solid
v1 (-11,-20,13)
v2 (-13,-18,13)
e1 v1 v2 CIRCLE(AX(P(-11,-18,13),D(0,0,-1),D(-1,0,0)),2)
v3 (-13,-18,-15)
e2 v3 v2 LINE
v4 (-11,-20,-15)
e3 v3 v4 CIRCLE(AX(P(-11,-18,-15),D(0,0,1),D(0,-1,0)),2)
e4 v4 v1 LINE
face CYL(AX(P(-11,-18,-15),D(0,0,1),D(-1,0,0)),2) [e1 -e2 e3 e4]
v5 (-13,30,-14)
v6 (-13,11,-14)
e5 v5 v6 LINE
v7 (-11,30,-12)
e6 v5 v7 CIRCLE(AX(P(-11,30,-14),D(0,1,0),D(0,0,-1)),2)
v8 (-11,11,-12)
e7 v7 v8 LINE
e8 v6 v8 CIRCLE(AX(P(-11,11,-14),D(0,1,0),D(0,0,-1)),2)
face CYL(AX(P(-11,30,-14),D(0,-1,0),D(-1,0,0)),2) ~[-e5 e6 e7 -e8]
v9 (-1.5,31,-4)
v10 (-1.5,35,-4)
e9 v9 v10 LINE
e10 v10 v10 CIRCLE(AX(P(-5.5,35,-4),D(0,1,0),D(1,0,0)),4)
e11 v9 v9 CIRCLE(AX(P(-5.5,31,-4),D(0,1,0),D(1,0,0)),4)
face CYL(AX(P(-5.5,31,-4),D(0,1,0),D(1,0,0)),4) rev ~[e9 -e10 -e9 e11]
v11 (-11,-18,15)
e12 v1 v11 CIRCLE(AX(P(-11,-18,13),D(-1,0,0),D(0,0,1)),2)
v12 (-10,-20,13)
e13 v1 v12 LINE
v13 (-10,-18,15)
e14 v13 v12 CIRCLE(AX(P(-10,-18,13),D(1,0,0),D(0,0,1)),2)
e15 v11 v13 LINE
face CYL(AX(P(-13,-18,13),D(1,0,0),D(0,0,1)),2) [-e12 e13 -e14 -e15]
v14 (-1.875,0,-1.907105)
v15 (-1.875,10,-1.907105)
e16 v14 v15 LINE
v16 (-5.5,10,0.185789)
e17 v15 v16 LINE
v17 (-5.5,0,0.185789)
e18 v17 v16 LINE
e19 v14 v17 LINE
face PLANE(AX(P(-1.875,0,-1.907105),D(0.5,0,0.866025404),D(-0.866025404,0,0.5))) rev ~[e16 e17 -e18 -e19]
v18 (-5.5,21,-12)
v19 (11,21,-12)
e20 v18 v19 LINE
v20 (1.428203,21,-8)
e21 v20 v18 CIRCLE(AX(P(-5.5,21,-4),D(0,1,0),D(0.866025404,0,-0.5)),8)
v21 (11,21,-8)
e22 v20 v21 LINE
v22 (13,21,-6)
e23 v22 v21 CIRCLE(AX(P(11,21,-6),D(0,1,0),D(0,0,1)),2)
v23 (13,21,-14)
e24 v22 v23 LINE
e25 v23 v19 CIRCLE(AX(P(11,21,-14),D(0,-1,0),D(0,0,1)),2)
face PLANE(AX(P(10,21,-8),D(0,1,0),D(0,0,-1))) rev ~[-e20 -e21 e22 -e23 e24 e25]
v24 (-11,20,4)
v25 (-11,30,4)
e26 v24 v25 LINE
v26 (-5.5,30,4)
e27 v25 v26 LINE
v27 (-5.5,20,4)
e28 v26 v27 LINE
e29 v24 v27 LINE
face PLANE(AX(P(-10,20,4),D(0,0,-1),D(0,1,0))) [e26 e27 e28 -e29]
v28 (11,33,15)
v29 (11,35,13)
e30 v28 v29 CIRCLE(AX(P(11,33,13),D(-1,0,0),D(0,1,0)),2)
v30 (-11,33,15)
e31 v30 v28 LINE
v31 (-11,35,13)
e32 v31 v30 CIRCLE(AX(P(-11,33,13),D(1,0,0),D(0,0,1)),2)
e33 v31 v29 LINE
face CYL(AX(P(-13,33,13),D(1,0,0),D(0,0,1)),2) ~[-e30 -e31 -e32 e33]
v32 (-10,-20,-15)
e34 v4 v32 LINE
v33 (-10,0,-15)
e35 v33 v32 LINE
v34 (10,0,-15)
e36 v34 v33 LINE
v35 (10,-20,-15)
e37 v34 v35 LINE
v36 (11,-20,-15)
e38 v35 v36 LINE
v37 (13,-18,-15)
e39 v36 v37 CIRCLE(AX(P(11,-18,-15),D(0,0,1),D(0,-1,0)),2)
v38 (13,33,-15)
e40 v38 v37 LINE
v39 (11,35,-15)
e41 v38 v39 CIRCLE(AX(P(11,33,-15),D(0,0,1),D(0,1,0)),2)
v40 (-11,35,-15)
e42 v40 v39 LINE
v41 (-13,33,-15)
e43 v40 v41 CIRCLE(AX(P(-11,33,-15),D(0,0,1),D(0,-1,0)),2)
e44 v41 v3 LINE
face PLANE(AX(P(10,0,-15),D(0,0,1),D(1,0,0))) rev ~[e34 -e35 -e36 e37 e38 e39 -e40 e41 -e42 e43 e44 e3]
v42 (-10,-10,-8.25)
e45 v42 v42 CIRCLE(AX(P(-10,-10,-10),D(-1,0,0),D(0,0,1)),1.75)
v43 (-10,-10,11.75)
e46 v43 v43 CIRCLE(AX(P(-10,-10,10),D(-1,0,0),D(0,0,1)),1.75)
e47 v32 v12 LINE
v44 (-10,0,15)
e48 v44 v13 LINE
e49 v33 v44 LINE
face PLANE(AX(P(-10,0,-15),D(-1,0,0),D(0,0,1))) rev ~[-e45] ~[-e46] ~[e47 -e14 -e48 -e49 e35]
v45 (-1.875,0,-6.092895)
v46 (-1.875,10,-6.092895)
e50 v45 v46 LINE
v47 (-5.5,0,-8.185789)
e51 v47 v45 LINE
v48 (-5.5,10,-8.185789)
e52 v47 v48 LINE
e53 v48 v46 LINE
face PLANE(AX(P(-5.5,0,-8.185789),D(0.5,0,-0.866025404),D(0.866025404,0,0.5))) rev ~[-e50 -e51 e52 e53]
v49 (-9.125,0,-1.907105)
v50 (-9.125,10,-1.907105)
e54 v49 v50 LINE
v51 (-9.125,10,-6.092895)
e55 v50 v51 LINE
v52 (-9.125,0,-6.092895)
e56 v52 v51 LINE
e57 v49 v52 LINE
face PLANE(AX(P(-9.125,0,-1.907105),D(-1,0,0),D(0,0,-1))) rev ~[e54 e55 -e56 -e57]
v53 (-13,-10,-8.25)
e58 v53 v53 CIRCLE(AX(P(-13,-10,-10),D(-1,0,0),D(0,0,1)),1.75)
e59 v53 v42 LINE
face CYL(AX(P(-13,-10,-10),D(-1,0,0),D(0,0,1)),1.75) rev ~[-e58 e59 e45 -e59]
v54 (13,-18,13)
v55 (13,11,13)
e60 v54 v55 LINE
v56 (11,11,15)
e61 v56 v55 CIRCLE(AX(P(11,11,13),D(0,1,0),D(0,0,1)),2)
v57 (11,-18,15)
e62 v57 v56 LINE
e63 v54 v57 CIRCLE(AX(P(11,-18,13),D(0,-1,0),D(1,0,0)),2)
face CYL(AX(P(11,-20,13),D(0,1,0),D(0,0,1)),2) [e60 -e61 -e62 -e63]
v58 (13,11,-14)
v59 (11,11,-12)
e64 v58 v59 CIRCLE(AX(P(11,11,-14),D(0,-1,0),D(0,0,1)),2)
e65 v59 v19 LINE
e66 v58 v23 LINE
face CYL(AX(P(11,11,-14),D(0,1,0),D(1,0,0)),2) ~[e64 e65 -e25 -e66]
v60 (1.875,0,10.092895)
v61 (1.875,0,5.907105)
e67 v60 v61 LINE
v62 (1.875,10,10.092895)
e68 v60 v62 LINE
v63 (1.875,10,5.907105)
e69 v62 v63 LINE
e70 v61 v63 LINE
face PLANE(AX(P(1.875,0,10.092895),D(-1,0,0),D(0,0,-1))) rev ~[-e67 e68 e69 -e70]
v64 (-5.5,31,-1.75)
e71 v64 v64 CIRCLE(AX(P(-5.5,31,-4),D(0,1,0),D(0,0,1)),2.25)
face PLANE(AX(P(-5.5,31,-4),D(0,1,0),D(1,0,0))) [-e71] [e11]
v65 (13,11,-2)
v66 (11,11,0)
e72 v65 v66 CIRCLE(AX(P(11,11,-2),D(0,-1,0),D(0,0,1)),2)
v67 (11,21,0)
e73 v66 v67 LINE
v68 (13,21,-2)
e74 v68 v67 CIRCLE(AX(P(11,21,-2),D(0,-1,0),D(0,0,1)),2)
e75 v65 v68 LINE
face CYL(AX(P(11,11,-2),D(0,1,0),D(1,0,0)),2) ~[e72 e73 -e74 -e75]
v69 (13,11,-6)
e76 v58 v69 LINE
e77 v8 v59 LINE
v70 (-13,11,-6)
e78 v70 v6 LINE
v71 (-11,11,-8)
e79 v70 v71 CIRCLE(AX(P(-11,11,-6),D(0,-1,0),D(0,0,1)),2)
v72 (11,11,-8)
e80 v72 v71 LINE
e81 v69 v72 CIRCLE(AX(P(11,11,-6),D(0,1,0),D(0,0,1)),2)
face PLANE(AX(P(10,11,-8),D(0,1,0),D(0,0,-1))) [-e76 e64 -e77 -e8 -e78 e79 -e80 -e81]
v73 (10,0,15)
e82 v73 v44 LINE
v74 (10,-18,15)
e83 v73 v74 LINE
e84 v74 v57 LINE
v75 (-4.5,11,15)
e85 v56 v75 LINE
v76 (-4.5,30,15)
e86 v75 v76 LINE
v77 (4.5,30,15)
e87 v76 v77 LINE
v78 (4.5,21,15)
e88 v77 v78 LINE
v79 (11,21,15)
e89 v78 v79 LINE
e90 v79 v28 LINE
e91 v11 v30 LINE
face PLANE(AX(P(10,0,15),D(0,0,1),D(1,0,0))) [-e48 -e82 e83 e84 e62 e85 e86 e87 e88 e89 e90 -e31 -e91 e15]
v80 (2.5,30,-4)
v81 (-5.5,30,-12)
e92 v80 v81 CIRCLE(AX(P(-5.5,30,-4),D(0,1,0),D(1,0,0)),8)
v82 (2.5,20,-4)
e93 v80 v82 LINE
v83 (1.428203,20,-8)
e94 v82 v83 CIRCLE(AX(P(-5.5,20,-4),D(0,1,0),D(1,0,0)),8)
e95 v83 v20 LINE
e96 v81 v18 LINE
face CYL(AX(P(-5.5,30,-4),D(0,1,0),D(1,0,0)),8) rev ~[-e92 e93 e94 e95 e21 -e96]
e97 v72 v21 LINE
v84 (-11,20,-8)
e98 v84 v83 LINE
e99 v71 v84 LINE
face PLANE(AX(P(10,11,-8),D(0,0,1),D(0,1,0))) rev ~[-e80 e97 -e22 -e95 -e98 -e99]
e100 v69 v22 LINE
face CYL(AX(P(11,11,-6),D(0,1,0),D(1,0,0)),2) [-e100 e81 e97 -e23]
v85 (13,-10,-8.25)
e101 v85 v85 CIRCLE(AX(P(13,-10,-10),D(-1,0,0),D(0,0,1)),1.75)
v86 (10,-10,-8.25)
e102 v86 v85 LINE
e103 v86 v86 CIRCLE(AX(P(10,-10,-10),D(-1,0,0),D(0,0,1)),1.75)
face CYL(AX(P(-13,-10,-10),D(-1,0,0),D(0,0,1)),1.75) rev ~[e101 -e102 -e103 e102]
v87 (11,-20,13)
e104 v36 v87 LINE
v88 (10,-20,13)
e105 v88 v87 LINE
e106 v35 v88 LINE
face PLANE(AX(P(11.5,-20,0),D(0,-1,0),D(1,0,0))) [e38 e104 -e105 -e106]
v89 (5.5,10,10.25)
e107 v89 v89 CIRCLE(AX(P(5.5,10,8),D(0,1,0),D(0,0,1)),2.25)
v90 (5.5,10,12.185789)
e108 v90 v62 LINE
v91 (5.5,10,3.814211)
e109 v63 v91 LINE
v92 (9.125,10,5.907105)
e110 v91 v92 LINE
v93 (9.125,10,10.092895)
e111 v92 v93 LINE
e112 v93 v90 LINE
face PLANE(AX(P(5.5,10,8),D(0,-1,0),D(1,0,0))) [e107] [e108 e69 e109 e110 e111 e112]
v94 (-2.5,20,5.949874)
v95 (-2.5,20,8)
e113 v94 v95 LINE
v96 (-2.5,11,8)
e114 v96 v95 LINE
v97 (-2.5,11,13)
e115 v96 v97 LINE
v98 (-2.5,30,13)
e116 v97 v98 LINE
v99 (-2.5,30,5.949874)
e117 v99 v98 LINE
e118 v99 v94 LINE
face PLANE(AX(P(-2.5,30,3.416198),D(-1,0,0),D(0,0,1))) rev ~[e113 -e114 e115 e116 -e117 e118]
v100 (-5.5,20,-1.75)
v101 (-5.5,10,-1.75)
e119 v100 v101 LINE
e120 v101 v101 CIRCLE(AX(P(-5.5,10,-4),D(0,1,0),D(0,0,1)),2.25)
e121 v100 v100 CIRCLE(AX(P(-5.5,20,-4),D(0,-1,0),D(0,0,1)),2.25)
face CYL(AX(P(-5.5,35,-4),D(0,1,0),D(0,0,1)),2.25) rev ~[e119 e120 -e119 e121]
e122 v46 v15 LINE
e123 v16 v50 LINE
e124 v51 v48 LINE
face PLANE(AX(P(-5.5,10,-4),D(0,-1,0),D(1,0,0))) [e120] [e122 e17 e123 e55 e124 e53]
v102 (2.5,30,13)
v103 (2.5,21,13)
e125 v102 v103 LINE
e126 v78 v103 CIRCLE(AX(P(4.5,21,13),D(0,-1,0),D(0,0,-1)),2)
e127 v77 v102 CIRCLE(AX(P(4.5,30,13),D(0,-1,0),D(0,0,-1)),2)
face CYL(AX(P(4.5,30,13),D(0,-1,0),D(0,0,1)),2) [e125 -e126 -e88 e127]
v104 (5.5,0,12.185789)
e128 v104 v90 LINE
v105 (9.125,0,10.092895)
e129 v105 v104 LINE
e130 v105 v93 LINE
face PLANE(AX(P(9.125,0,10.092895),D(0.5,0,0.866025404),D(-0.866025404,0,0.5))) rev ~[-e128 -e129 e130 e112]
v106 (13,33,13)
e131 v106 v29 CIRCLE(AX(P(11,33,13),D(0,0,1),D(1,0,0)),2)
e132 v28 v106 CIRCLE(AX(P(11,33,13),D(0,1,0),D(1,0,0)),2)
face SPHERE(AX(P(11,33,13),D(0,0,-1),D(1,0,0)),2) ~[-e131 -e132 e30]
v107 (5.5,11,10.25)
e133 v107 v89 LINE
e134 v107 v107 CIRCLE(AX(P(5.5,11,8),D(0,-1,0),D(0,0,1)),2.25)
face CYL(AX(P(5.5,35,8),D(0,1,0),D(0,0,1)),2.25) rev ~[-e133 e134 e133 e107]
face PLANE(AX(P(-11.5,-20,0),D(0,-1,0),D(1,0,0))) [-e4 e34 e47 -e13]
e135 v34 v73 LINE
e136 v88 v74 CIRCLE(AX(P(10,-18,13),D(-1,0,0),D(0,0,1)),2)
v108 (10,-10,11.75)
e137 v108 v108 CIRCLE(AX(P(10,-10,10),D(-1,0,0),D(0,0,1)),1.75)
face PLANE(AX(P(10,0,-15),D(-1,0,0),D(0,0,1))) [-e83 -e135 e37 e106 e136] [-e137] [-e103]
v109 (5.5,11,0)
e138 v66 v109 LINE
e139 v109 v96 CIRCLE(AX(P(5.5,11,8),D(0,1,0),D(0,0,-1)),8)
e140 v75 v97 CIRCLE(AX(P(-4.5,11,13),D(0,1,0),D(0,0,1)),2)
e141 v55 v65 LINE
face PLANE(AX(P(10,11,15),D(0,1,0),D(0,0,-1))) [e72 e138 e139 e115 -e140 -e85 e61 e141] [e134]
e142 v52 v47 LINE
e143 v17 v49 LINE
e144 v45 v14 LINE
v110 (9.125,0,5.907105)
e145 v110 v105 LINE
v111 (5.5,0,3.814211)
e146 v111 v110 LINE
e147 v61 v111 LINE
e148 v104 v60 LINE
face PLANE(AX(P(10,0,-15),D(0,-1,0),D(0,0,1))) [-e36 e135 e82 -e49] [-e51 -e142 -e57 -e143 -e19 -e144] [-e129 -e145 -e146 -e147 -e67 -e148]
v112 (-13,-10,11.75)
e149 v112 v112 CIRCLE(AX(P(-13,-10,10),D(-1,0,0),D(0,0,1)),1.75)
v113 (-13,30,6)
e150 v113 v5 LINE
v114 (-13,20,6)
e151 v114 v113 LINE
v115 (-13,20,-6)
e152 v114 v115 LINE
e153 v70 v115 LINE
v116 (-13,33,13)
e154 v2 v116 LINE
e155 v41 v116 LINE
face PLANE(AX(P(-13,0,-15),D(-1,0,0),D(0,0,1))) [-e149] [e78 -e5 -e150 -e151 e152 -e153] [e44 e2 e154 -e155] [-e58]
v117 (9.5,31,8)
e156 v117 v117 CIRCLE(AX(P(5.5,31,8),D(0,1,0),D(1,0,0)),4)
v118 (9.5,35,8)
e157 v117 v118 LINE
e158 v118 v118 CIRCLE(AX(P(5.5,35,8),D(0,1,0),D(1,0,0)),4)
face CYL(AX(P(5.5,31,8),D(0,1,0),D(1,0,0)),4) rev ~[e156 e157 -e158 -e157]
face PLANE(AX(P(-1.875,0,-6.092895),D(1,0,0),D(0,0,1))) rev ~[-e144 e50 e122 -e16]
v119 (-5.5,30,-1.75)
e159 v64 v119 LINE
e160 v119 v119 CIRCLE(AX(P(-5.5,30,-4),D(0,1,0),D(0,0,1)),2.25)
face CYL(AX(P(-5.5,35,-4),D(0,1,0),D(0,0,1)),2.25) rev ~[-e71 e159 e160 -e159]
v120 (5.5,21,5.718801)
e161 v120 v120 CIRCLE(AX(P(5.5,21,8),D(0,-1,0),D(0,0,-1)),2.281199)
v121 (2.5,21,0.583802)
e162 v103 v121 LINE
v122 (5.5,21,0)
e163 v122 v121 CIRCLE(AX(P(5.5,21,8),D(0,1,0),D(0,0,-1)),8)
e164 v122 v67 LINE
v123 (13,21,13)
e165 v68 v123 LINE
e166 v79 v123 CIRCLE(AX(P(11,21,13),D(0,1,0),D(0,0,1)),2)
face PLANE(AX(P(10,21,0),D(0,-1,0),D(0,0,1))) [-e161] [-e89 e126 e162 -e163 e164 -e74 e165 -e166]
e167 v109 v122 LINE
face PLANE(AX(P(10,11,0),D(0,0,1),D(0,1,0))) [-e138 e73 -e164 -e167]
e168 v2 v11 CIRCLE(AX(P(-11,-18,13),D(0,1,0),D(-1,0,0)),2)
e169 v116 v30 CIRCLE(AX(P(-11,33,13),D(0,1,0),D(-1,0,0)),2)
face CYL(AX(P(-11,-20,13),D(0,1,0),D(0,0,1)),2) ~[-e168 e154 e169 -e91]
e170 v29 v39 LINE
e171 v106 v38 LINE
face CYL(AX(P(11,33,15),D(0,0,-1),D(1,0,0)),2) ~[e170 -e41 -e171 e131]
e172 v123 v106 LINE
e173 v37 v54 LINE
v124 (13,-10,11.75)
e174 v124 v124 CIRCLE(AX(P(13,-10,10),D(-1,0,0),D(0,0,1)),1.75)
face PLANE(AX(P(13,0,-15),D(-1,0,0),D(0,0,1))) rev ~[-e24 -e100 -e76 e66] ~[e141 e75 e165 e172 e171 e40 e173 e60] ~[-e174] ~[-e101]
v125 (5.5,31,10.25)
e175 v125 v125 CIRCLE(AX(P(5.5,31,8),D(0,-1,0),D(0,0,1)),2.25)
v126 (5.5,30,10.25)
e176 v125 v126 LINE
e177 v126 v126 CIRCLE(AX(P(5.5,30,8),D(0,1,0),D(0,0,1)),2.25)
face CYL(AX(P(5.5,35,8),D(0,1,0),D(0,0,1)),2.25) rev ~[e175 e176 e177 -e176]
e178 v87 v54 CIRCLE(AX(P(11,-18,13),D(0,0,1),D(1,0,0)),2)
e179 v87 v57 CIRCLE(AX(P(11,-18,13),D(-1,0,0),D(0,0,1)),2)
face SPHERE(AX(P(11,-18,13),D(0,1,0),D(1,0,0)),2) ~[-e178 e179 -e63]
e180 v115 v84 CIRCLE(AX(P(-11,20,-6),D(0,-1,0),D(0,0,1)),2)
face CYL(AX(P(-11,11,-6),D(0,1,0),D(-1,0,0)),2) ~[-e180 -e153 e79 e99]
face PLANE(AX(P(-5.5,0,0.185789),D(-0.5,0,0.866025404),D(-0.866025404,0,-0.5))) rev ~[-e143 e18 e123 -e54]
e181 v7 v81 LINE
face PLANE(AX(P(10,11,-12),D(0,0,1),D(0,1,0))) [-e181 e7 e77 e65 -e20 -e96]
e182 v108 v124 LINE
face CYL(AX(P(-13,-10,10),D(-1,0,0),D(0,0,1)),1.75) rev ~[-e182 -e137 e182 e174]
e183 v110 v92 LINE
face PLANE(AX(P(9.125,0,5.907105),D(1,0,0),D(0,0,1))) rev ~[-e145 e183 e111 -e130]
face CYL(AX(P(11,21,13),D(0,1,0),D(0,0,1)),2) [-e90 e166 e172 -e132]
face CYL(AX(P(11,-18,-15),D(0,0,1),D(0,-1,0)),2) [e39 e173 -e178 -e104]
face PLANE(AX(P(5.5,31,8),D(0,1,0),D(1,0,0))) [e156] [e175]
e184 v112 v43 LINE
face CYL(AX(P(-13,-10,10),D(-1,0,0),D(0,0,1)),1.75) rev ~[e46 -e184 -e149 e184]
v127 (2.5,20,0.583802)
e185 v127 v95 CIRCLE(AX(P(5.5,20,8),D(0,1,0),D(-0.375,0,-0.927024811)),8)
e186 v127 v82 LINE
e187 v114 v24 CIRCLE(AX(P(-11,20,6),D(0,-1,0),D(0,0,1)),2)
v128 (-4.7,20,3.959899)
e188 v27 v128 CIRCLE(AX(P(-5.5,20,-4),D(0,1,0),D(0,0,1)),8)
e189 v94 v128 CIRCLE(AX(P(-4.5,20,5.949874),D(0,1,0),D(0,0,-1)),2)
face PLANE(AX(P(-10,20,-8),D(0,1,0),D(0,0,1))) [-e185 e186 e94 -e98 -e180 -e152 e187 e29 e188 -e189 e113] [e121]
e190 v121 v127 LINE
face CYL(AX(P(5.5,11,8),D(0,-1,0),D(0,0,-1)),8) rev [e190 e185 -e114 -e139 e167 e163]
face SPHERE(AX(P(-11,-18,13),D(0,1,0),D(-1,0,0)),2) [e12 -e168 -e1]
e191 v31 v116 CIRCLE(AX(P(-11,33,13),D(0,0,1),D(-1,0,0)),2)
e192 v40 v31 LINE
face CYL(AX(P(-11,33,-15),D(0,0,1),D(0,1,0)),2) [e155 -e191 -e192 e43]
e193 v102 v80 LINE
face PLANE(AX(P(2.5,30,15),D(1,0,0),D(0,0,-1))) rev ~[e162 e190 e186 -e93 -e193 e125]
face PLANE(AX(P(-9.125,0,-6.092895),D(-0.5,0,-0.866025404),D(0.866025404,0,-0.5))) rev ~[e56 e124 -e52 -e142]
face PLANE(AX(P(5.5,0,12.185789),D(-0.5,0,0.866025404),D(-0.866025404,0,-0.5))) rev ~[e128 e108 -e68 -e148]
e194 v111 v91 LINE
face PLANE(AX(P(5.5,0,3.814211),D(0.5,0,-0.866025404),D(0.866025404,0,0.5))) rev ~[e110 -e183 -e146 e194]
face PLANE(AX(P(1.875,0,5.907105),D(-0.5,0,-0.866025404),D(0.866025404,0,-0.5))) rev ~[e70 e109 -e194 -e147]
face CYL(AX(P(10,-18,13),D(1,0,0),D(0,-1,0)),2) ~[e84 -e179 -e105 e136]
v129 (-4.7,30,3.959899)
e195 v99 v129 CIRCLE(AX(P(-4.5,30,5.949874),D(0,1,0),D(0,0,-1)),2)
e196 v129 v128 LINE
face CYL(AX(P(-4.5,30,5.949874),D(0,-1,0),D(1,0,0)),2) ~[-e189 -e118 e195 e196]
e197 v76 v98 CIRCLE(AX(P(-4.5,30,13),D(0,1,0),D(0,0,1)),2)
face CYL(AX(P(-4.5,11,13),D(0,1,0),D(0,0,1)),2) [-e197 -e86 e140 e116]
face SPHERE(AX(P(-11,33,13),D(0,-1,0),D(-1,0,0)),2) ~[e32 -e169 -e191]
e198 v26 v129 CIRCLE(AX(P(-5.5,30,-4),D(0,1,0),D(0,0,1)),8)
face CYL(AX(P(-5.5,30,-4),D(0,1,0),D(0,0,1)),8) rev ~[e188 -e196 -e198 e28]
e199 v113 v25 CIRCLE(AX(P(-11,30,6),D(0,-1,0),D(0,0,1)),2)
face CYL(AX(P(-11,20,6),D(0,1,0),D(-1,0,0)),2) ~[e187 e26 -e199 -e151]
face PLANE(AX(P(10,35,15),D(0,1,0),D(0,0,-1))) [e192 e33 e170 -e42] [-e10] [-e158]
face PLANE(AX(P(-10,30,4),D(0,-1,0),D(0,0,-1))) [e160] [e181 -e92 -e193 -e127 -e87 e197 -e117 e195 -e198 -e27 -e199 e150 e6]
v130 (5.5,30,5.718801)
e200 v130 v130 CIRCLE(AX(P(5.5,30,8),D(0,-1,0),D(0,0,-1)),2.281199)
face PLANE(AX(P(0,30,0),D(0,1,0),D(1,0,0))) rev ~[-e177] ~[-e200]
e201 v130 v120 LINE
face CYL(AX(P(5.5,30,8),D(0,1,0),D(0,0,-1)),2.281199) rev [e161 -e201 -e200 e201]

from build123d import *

# Parameters (mm, degrees)
SKETCH2_W                                           = 20
SKETCH2_H                                           = 30
BOSS_EXTRUDE1_DEPTH                                 = 30
SKETCH3_R                                           = 2.25
CUT_EXTRUDE2_DEPTH                                  = 19
SKETCH5_W                                           = 20
SKETCH5_H                                           = 30
BOSS_EXTRUDE2_DEPTH                                 = 5
SKETCH6_R                                           = 2.281198657
BOSS_EXTRUDE3_DEPTH                                 = 9
BOSS_EXTRUDE4_START                                 = 9
SKETCH7_R                                           = 2.25
BOSS_EXTRUDE4_DEPTH                                 = 9
BOSS_EXTRUDE6_DEPTH                                 = 9
SKETCH8_R                                           = 2.25
CUT_EXTRUDE3_DEPTH                                  = 40.37003937
CBORE_FOR_M4_HEX_SOCKET_HEAD_CAP_SCREW1_D           = 4.5
CBORE_FOR_M4_HEX_SOCKET_HEAD_CAP_SCREW1_DEPTH       = 35
CBORE_FOR_M4_HEX_SOCKET_HEAD_CAP_SCREW1_CBORE_D     = 8
CBORE_FOR_M4_HEX_SOCKET_HEAD_CAP_SCREW1_CBORE_DEPTH = 4
CUT_EXTRUDE6_DEPTH                                  = 10
CUT_EXTRUDE10_DEPTH                                 = 10
CUT_EXTRUDE11_DEPTH                                 = 10
SKETCH26_W                                          = 4
SKETCH26_H                                          = 10
CUT_EXTRUDE12_DEPTH                                 = 44.011626335
SKETCH32_W                                          = 30
SKETCH32_H                                          = 35
BOSS_EXTRUDE15_DEPTH                                = 3
SKETCH33_W                                          = 4
SKETCH33_H                                          = 10
BOSS_EXTRUDE16_DEPTH                                = 3
SKETCH34_W                                          = 3
SKETCH34_H                                          = 30
BOSS_EXTRUDE17_DEPTH                                = 20
SKETCH35_W                                          = 3
SKETCH35_H                                          = 30
BOSS_EXTRUDE18_DEPTH                                = 20
SKETCH37_R                                          = 1.75
CUT_EXTRUDE15_DEPTH                                 = 47.108567534
FILLET1_R_R                                         = 2
FILLET2_R_R                                         = 2


with BuildPart() as part:
    # Sketch2 → Boss-Extrude1 (new body)
    with BuildSketch(Plane(origin=(0, 0, 0), x_dir=(1, 0, 0), z_dir=(0, 1, 0))):
        Rectangle(SKETCH2_W, SKETCH2_H)
    extrude(amount=BOSS_EXTRUDE1_DEPTH)

    # Sketch3 → Cut-Extrude2 (cut)
    with BuildSketch(Plane(origin=(0, 30, 0), x_dir=(1, 0, 0), z_dir=(0, 1, 0))):
        with BuildLine():
            Line((-1.5, -15), (10, -15))
            Line((10, -15), (10, -1))
            Line((10, -1), (5.5, -1))
            ThreePointArc((5.5, -1), (3.403805654, -1.321229959), (1.5, -2.255437353))
            Line((1.5, -2.255437353), (1.5, 4))
            ThreePointArc((1.5, 4), (1.178770041, 6.096194346), (0.244562647, 8))
            Line((0.244562647, 8), (10, 8))
            Line((10, 8), (10, 11))
            Line((10, 11), (-10, 11))
            Line((-10, 11), (-10, -3))
            Line((-10, -3), (-5.5, -3))
            ThreePointArc((-5.5, -3), (-3.403805654, -2.678770041), (-1.5, -1.744562647))
            Line((-1.5, -1.744562647), (-1.5, -15))
        make_face()
        with Locations(Location((5.5, -8, 0), (0, 0, 270))):
            Circle(SKETCH3_R, mode=Mode.SUBTRACT)
        with Locations(Location((-5.5, 4, 0), (0, 0, 270))):
            Circle(SKETCH3_R, mode=Mode.SUBTRACT)
    extrude(amount=-CUT_EXTRUDE2_DEPTH, mode=Mode.SUBTRACT)

    # Sketch5 → Boss-Extrude2 (add)
    with BuildSketch(Plane(origin=(0, 30, 0), x_dir=(1, 0, 0), z_dir=(0, 1, 0))):
        Rectangle(SKETCH5_W, SKETCH5_H)
    extrude(amount=BOSS_EXTRUDE2_DEPTH)

    # Sketch6 → Boss-Extrude3 (add)
    with BuildSketch(Plane.XZ.offset(-30)):
        with BuildLine():
            Line((1.5, 2.255437353), (1.5, 15))
            Line((1.5, 15), (10, 15))
            Line((10, 15), (10, 1))
            Line((10, 1), (5.5, 1))
            ThreePointArc((5.5, 1), (3.403805654, 1.321229959), (1.5, 2.255437353))
        make_face()
        with Locations(Location((5.5, 8, 0), (0, 0, 270))):
            Circle(SKETCH6_R, mode=Mode.SUBTRACT)
    extrude(amount=BOSS_EXTRUDE3_DEPTH)

    # Sketch7 → Boss-Extrude4 (add)
    with BuildSketch(Plane(origin=(0, 11, 0), x_dir=(1, 0, 0), z_dir=(0, 1, 0)).offset(BOSS_EXTRUDE4_START)):
        with BuildLine():
            ThreePointArc((1.5, 4), (1.178770041, 6.096194346), (0.244562647, 8))
            Line((0.244562647, 8), (-10, 8))
            Line((-10, 8), (-10, -3))
            Line((-10, -3), (-5.5, -3))
            ThreePointArc((-5.5, -3), (-3.403805654, -2.678770041), (-1.5, -1.744562647))
            Line((-1.5, -1.744562647), (-1.5, -8))
            ThreePointArc((-1.5, -8), (-0.704836823, -4.759629651), (1.5, -2.255437353))
            Line((1.5, -2.255437353), (1.5, 4))
        make_face()
        with Locations((-5.5, 4)):
            Circle(SKETCH7_R, mode=Mode.SUBTRACT)
    extrude(amount=-BOSS_EXTRUDE4_DEPTH)

    # Sketch15 → Boss-Extrude6 (add)
    with BuildSketch(Plane.XZ.offset(-30)):
        with BuildLine():
            Line((10, -8), (10, -11))
            Line((10, -11), (-5.5, -11))
            ThreePointArc((-5.5, -11), (-2.259629651, -10.204836823), (0.244562647, -8))
            Line((0.244562647, -8), (10, -8))
        make_face()
    extrude(amount=BOSS_EXTRUDE6_DEPTH)

    # Sketch8 → Cut-Extrude3 (cut, through all)
    with BuildSketch(Plane(origin=(0, 35, 0), x_dir=(1, 0, 0), z_dir=(0, 1, 0))):
        with Locations(Location((5.5, -8, 0), (0, 0, 270))):
            Circle(SKETCH8_R)
        with Locations(Location((-5.5, 4, 0), (0, 0, 270))):
            Circle(SKETCH8_R)
    extrude(amount=-CUT_EXTRUDE3_DEPTH, mode=Mode.SUBTRACT)

    # CBORE for M4 Hex Socket Head Cap Screw1
    with Locations(Plane(origin=(0, 35, 0), x_dir=(1, 0, 0), z_dir=(0, 1, 0))):
        with Locations((5.5, -8), (-5.5, 4)):
            CounterBoreHole(CBORE_FOR_M4_HEX_SOCKET_HEAD_CAP_SCREW1_D / 2, CBORE_FOR_M4_HEX_SOCKET_HEAD_CAP_SCREW1_CBORE_D / 2, CBORE_FOR_M4_HEX_SOCKET_HEAD_CAP_SCREW1_CBORE_DEPTH, depth=CBORE_FOR_M4_HEX_SOCKET_HEAD_CAP_SCREW1_DEPTH)

    # Sketch14 → Cut-Extrude6 (cut)
    with BuildSketch(Plane.XZ):
        Polygon((5.5, 3.814210548), (9.125, 5.907105274), (9.125, 10.092894726), (5.5, 12.185789452), (1.875, 10.092894726), (1.875, 5.907105274), align=None)
        Polygon((-5.5, -8.185789452), (-1.875, -6.092894726), (-1.875, -1.907105274), (-5.5, 0.185789452), (-9.125, -1.907105274), (-9.125, -6.092894726), align=None)
    extrude(amount=-CUT_EXTRUDE6_DEPTH, mode=Mode.SUBTRACT)

    # Sketch24 → Cut-Extrude10 (cut)
    with BuildSketch(Plane(origin=(0, 11, 0), x_dir=(1, 0, 0), z_dir=(0, 1, 0))):
        with BuildLine():
            Line((-2.5, -16), (11, -16))
            Line((11, -16), (11, 0))
            Line((11, 0), (5.5, 0))
            ThreePointArc((5.5, 0), (-0.156854249, -2.343145751), (-2.5, -8))
            Line((-2.5, -8), (-2.5, -16))
        make_face()
    extrude(amount=CUT_EXTRUDE10_DEPTH, mode=Mode.SUBTRACT)

    # Sketch25 → Cut-Extrude11 (cut)
    with BuildSketch(Plane.XZ.offset(-30)):
        with BuildLine():
            Line((-10, -12), (-10, 4))
            Line((-10, 4), (-5.5, 4))
            ThreePointArc((-5.5, 4), (-3.9718619, 3.85269342), (-2.5, 3.416198487))
            Line((-2.5, 3.416198487), (-2.5, 15))
            Line((-2.5, 15), (2.5, 15))
            Line((2.5, 15), (2.5, -4))
            ThreePointArc((2.5, -4), (0.156854249, -9.656854249), (-5.5, -12))
            Line((-5.5, -12), (-10, -12))
        make_face()
    extrude(amount=CUT_EXTRUDE11_DEPTH, mode=Mode.SUBTRACT)

    # Sketch26 → Cut-Extrude12 (cut, through all)
    with BuildSketch(Plane.ZY.offset(10)):
        with Locations((-10, 16)):
            Rectangle(SKETCH26_W, SKETCH26_H)
    extrude(amount=-CUT_EXTRUDE12_DEPTH, mode=Mode.SUBTRACT)

    # Sketch32 → Boss-Extrude15 (add)
    with BuildSketch(Plane.ZY.offset(10)):
        with Locations((0, 17.5)):
            Rectangle(SKETCH32_W, SKETCH32_H)
        Polygon((-12, 11), (-8, 11), (-8, 20), (4, 20), (4, 30), (-12, 30), align=None, mode=Mode.SUBTRACT)
    extrude(amount=BOSS_EXTRUDE15_DEPTH)

    # Sketch33 → Boss-Extrude16 (add)
    with BuildSketch(Plane(origin=(10, 0, 0), x_dir=(0, 0, -1), z_dir=(1, 0, 0))):
        Polygon((15, 35), (15, 0), (-15, 0), (-15, 11), (0, 11), (0, 21), (-15, 21), (-15, 35), align=None)
        with Locations((10, 16)):
            Rectangle(SKETCH33_W, SKETCH33_H, mode=Mode.SUBTRACT)
    extrude(amount=BOSS_EXTRUDE16_DEPTH)

    # Sketch34 → Boss-Extrude17 (add)
    with BuildSketch(Plane.XZ):
        with Locations((-11.5, 0)):
            Rectangle(SKETCH34_W, SKETCH34_H)
    extrude(amount=BOSS_EXTRUDE17_DEPTH)

    # Sketch35 → Boss-Extrude18 (add)
    with BuildSketch(Plane.XZ):
        with Locations((11.5, 0)):
            Rectangle(SKETCH35_W, SKETCH35_H)
    extrude(amount=BOSS_EXTRUDE18_DEPTH)

    # Sketch37 → Cut-Extrude15 (cut, through all)
    with BuildSketch(Plane.ZY.offset(13)):
        with Locations((-10, -10)):
            Circle(SKETCH37_R)
        with Locations((10, -10)):
            Circle(SKETCH37_R)
    extrude(amount=-CUT_EXTRUDE15_DEPTH, mode=Mode.SUBTRACT)

    # Fillet1-r
    fillet1_r_edges = [part.edges().sort_by_distance(p)[0] for p in [
        (-13, 7.5, 15),
        (-13, 35, 0),
        (13, 35, 0),
        (13, 28, 15),
        (13, -4.5, 15),
        (-13, -20, 0),
        (-11.5, -20, 15),
        (13, -20, 0),
        (11.5, -20, 15),
        (0, 35, 15),
    ]]
    fillet(fillet1_r_edges, radius=FILLET1_R_R)

    # Fillet2-r
    fillet2_r_edges = [part.edges().sort_by_distance(p)[0] for p in [
        (-2.5, 20.5, 15),
        (2.5, 25.5, 15),
        (-2.5, 25, 3.416198487),
        (-13, 20.5, -12),
        (-13, 15.5, -8),
        (-13, 25, 4),
        (13, 16, 0),
        (13, 16, -8),
        (13, 16, -12),
    ]]
    fillet(fillet2_r_edges, radius=FILLET2_R_R)


solid = part.part
